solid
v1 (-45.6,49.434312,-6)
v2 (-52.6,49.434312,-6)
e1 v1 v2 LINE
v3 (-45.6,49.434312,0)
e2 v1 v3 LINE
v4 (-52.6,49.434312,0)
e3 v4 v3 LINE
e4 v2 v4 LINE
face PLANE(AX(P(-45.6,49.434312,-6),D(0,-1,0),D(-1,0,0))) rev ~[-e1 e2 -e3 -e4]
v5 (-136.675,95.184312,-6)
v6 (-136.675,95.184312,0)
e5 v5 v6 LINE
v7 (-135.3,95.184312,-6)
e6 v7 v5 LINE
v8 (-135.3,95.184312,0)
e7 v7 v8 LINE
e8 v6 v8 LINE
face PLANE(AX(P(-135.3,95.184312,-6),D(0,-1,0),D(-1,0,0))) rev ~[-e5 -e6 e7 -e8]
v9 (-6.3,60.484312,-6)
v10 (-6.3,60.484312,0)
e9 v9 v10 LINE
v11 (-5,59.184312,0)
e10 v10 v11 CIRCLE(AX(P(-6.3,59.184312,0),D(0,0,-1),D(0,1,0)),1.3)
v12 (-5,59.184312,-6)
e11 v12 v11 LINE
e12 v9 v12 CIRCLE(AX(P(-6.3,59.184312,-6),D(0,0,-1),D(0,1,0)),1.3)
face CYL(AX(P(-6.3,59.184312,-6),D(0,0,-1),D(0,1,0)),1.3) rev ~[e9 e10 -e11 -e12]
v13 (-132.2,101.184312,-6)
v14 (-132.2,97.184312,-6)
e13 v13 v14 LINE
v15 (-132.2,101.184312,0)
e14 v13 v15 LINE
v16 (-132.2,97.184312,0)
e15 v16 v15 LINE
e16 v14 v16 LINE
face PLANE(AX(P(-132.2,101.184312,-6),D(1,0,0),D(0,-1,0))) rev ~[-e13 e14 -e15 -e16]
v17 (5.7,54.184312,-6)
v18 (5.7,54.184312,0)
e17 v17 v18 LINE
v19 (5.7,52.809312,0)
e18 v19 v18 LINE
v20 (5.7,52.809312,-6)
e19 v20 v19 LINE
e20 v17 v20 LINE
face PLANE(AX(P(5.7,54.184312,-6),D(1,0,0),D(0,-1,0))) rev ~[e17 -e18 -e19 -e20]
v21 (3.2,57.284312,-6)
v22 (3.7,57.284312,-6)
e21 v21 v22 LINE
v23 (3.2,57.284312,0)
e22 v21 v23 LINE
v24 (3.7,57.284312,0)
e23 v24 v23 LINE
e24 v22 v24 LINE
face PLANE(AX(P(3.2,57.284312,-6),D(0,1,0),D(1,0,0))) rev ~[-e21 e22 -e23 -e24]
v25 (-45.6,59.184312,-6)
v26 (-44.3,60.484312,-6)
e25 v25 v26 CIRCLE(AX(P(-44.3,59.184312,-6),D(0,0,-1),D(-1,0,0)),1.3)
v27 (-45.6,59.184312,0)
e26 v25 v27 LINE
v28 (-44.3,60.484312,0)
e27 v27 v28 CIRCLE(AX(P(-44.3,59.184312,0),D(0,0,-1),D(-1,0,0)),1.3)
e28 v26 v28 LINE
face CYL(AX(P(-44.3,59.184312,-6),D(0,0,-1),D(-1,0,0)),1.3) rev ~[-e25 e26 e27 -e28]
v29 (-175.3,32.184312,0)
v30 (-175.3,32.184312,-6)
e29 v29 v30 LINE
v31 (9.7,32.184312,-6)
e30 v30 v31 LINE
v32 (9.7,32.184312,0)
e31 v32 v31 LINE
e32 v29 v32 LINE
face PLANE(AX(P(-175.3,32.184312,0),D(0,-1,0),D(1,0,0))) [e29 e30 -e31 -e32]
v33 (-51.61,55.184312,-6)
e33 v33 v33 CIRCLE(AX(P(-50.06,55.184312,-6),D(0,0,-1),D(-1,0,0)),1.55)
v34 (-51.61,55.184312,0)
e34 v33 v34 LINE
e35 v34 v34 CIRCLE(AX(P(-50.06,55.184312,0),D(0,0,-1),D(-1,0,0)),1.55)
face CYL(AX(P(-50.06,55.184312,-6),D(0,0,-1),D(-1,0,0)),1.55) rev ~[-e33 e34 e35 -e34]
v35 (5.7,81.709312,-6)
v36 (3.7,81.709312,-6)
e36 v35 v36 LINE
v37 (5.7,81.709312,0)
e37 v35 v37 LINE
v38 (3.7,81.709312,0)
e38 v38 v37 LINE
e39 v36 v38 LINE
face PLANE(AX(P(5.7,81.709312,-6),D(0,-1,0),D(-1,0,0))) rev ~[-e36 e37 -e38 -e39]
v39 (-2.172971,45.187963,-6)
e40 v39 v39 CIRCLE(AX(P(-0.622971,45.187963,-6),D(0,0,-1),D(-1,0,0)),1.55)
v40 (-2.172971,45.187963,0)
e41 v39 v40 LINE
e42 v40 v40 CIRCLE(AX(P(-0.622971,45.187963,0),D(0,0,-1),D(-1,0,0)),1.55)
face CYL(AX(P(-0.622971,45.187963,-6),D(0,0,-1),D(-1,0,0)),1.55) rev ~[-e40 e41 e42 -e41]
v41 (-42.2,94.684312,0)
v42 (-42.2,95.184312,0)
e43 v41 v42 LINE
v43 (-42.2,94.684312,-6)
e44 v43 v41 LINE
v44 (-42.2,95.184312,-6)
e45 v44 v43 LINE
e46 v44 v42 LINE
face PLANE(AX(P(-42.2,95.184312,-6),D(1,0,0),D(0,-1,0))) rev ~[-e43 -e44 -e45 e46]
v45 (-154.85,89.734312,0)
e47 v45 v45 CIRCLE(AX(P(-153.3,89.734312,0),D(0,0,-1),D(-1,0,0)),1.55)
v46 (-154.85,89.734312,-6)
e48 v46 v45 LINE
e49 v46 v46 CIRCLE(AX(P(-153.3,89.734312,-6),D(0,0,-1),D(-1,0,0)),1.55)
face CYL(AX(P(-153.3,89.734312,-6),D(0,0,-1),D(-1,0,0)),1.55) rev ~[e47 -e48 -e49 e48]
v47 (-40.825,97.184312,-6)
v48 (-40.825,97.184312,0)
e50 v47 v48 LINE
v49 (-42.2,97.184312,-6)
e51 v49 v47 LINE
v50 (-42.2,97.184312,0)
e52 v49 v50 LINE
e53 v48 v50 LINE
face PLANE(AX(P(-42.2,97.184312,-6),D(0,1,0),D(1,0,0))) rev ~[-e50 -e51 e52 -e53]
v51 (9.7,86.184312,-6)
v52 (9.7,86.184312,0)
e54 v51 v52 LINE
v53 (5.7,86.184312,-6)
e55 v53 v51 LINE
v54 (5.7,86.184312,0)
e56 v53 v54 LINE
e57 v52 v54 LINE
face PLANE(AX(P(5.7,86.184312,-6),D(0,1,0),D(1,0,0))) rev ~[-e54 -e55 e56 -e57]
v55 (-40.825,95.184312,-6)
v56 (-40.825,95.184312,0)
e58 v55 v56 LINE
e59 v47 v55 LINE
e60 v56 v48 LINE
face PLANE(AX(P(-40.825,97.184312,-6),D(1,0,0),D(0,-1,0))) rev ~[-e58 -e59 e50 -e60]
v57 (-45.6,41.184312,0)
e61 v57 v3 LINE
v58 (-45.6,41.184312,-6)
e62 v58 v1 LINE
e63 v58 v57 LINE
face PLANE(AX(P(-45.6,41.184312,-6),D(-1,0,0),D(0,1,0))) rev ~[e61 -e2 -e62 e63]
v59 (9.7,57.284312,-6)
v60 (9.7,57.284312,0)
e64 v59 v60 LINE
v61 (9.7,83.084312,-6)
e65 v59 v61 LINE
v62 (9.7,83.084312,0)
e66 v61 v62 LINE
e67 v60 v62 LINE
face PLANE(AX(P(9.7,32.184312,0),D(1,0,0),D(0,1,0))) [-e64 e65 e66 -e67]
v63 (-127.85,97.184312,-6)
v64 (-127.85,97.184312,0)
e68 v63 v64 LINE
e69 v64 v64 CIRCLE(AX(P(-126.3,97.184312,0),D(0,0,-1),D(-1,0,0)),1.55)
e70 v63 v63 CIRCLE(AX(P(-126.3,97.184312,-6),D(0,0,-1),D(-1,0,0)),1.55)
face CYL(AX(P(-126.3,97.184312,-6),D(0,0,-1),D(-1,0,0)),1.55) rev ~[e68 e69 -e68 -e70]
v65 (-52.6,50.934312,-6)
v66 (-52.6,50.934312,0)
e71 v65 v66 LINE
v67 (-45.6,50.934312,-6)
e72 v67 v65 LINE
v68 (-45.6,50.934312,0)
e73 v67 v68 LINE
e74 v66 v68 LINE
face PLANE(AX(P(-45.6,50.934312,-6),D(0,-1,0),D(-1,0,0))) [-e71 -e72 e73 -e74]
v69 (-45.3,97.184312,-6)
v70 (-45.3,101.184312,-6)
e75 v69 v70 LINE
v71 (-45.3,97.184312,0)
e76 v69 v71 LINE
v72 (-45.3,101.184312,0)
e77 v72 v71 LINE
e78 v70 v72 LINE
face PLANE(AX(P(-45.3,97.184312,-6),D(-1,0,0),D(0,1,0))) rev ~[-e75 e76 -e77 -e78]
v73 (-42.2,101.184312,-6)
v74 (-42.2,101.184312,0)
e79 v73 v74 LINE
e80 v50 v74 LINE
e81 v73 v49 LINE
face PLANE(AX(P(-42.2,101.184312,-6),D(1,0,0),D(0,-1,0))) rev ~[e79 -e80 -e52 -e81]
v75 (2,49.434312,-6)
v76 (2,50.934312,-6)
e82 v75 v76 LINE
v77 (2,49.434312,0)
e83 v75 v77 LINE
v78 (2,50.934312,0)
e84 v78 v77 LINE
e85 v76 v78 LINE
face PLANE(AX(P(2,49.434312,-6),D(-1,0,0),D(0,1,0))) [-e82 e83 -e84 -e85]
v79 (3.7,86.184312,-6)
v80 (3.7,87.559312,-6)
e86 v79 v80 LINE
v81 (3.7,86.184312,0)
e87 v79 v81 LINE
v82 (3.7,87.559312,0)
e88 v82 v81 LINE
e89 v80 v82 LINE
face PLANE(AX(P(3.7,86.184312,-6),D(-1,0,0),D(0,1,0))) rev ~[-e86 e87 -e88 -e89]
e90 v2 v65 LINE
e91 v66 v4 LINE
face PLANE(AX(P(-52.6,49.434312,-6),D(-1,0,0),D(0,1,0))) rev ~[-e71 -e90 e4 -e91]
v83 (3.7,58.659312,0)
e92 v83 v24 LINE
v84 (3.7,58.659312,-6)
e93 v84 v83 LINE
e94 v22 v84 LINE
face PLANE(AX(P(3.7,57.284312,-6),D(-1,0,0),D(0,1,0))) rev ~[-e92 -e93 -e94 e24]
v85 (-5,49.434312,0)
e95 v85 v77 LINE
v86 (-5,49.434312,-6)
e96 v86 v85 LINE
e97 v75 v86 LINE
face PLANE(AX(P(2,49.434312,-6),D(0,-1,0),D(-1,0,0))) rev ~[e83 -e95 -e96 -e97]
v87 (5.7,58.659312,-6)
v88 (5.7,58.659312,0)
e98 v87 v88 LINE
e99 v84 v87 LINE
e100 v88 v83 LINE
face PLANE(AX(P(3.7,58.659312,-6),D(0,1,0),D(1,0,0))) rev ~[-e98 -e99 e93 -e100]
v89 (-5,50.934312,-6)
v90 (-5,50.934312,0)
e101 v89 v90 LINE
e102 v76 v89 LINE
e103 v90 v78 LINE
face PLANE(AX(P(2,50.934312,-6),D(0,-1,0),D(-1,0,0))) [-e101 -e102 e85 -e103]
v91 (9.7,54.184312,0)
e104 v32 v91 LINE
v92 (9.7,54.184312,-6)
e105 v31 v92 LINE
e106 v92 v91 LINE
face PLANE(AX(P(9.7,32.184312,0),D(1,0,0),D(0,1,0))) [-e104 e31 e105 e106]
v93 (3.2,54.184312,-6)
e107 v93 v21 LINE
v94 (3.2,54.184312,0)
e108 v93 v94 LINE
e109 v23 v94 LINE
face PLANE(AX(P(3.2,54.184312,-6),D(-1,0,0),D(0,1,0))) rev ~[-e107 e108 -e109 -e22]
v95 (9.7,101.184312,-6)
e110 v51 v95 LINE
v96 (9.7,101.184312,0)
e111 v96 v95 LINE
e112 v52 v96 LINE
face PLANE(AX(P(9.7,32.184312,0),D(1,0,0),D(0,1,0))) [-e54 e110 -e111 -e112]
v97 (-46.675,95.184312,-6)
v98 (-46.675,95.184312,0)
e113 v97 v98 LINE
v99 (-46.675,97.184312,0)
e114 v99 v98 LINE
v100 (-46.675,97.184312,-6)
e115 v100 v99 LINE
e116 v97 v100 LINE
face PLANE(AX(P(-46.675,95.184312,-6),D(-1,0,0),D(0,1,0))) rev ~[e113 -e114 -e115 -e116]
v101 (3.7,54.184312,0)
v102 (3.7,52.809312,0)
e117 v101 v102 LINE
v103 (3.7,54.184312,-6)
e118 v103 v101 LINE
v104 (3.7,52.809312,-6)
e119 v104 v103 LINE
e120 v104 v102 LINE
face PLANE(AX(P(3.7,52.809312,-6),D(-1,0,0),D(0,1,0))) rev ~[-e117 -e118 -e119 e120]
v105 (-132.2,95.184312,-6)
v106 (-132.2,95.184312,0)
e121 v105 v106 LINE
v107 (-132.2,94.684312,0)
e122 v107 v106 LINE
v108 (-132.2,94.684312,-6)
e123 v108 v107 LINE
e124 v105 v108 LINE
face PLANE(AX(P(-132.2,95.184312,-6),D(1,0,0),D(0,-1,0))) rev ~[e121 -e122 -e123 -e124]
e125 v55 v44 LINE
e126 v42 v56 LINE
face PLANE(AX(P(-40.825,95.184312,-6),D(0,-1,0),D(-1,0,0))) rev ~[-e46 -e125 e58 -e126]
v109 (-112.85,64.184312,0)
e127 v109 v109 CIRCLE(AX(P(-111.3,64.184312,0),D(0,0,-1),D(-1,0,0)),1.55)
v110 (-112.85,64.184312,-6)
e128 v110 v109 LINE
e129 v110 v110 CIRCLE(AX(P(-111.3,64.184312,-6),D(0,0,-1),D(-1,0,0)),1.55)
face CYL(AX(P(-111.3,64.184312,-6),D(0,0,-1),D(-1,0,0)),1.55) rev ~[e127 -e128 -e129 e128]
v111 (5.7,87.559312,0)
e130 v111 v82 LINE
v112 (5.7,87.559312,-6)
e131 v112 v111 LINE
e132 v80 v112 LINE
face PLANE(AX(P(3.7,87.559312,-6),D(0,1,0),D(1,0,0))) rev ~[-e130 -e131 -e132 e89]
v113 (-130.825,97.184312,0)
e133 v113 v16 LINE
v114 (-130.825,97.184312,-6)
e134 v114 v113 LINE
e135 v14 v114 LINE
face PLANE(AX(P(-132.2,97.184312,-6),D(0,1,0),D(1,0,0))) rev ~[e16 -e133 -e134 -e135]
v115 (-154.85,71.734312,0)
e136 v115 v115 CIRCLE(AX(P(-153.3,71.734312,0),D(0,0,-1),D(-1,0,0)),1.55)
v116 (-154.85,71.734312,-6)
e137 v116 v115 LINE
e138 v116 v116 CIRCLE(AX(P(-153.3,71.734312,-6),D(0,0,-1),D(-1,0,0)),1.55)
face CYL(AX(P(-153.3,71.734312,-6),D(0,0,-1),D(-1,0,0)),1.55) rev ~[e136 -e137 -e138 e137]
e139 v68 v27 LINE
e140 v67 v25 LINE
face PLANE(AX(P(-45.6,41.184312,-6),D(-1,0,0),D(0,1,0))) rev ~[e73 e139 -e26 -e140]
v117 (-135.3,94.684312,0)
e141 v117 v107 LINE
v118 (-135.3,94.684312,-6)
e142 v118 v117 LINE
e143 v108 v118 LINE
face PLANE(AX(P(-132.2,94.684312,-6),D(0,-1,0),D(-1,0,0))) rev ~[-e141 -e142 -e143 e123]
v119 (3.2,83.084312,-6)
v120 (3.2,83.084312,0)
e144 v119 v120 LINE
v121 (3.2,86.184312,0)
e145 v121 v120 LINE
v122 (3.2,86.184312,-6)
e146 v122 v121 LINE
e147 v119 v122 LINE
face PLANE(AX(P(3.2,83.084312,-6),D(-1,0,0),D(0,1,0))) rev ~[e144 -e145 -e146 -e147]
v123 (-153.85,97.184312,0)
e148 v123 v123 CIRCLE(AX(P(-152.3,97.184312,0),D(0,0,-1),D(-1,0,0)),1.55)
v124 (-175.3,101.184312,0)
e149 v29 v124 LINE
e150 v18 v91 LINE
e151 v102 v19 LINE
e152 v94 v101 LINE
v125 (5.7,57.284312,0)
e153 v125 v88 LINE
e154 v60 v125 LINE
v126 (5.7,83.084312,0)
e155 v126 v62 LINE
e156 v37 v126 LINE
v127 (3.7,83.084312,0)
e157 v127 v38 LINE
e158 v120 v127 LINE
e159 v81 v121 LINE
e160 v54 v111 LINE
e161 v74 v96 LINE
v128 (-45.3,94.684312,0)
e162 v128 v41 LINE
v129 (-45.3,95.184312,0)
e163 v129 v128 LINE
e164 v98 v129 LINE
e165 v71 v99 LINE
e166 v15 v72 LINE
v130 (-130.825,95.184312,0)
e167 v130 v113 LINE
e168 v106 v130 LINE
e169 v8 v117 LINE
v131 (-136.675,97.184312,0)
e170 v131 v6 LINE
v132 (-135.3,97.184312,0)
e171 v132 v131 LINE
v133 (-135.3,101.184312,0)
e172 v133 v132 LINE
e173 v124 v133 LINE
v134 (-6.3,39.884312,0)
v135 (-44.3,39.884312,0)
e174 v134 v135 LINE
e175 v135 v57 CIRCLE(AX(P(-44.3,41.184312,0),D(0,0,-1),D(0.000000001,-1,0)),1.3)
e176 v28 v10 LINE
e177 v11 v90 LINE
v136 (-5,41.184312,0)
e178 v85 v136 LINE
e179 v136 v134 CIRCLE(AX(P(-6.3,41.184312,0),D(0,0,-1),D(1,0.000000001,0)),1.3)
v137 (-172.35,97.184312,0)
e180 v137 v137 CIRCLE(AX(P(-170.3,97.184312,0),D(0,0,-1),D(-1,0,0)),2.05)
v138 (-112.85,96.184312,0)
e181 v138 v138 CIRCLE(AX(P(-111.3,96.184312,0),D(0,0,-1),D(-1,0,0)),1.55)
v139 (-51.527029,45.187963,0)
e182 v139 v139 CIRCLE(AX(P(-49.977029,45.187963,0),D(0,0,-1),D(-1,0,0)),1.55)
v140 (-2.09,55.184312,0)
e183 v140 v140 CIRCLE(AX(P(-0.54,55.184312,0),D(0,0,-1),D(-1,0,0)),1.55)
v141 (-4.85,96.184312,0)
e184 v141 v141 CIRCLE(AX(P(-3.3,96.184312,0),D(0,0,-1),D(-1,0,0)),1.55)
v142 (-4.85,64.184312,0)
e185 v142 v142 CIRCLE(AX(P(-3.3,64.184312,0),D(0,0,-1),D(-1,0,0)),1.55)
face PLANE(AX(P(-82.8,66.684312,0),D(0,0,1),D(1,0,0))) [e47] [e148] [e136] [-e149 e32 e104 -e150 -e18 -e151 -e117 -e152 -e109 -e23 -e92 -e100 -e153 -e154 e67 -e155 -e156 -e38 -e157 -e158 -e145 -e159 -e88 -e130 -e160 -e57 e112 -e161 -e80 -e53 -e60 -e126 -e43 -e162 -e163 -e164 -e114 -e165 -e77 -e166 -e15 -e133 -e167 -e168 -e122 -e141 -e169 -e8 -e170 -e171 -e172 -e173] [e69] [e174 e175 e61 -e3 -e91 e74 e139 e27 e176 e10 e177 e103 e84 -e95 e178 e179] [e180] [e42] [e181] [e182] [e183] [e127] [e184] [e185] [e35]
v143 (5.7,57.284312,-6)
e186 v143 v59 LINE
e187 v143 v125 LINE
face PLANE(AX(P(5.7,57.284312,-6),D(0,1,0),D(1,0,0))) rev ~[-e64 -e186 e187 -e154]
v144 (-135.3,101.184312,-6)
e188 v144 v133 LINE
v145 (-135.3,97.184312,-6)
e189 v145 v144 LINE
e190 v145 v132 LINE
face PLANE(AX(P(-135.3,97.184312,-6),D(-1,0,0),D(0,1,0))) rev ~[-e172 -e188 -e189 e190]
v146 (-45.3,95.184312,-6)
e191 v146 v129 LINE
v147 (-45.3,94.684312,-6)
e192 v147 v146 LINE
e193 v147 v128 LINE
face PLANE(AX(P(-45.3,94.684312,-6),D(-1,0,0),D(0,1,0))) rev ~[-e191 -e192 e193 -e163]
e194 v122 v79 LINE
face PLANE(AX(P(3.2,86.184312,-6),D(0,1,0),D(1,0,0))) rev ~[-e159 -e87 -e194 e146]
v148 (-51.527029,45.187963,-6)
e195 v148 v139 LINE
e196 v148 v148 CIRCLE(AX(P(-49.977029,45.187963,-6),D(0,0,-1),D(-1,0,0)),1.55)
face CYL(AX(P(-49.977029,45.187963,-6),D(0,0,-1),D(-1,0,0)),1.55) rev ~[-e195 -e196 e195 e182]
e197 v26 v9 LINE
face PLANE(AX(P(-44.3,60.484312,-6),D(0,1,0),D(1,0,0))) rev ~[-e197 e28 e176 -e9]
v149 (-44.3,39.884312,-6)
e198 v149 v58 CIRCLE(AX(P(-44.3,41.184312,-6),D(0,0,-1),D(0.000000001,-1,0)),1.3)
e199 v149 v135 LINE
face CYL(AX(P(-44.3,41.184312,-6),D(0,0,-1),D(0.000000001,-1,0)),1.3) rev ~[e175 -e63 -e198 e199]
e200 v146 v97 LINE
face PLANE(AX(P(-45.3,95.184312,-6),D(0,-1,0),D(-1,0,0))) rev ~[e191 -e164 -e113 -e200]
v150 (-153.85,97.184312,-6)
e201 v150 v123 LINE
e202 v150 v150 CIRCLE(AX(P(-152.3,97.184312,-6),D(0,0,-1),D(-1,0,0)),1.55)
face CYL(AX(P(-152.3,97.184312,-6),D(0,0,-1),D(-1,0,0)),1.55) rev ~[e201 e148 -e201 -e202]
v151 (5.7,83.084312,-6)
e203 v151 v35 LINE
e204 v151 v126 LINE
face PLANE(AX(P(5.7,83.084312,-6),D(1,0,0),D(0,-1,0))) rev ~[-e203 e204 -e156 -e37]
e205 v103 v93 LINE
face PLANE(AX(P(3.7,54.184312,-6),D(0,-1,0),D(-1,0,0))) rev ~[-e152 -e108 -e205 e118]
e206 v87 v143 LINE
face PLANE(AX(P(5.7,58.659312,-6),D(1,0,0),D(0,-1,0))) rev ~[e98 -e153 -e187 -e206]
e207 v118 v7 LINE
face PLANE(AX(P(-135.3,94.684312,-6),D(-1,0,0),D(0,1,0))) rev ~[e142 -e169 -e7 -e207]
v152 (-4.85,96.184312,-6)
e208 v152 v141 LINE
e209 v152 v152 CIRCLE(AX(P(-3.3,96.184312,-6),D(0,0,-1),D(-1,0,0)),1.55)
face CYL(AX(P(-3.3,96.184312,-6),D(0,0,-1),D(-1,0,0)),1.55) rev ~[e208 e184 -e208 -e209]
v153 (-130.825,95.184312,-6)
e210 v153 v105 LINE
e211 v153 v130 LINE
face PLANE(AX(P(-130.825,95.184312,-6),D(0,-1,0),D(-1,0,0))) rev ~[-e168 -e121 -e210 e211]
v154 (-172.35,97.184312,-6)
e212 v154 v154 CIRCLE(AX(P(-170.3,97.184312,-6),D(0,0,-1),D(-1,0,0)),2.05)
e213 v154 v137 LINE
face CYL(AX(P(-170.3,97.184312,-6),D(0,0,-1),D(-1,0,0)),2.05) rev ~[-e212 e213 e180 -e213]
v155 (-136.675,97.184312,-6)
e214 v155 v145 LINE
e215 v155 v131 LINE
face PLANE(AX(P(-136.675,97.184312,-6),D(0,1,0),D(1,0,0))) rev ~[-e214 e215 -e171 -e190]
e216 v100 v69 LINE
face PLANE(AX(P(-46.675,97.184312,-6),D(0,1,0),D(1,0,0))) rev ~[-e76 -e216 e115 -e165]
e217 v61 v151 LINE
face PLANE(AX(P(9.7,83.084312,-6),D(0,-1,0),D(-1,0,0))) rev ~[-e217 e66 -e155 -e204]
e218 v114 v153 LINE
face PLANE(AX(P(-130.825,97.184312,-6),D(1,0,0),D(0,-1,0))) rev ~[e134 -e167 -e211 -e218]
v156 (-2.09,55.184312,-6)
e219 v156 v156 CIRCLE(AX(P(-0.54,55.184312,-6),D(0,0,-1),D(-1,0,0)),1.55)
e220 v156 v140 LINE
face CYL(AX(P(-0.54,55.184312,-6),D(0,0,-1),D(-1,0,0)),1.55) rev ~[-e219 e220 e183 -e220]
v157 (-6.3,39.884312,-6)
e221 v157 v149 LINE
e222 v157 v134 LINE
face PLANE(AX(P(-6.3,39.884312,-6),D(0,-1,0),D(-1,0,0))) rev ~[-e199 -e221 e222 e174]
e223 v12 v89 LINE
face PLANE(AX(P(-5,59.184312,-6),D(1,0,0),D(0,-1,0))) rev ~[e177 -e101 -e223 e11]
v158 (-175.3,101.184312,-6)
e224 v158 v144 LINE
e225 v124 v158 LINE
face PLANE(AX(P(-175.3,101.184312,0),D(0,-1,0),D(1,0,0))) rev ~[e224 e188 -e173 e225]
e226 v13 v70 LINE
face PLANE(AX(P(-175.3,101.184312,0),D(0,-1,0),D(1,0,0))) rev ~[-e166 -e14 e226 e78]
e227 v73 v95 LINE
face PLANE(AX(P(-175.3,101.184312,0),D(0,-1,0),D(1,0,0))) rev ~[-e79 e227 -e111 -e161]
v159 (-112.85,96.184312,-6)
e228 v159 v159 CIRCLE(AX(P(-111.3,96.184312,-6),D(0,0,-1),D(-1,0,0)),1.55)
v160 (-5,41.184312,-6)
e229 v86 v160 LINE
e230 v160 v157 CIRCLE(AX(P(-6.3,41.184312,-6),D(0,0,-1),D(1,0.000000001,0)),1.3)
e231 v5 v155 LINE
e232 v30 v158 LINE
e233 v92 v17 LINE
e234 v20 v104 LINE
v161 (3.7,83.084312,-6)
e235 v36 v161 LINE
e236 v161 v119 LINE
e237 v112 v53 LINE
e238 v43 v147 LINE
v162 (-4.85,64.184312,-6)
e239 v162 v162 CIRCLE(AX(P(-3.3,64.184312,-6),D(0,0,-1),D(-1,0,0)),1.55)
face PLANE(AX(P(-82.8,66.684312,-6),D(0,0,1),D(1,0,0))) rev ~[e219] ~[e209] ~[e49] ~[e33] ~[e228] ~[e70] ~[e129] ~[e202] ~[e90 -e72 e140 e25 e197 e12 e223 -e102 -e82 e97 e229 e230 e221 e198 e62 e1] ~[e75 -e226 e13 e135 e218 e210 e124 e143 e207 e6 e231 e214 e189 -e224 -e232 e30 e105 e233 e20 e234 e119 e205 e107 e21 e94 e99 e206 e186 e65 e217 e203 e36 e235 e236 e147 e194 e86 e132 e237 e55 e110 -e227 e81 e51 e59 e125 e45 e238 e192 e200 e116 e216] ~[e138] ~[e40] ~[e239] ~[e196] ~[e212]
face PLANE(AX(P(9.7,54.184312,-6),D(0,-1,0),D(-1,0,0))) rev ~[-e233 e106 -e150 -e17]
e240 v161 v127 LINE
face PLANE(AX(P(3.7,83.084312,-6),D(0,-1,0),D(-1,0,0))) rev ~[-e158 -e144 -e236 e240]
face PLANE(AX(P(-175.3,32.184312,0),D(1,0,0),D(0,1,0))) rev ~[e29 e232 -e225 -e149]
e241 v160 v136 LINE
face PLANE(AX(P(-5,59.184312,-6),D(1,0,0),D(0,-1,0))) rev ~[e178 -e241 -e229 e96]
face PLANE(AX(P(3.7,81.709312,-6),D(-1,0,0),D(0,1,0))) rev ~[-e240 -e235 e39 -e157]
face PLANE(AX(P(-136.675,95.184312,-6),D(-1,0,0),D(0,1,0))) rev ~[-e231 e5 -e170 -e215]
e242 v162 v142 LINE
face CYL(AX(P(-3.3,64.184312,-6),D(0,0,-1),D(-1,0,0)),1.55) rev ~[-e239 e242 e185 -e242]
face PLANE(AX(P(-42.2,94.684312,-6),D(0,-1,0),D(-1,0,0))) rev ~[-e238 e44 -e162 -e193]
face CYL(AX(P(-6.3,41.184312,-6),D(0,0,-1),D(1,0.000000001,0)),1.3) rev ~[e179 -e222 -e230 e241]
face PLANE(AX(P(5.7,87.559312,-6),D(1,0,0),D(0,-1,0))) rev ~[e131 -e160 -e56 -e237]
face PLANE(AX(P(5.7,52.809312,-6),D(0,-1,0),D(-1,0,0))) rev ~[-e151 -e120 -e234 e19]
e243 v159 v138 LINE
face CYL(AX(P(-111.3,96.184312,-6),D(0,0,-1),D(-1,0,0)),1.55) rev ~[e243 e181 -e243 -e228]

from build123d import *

# Parameters (mm, degrees)
SZKIC1_W                    = 185
SZKIC1_H                    = 69
DODANIE_WYCI_GNI_CIE1_DEPTH = 6
WYTNIJ_WYCI_GNI_CIE2_DEPTH  = 203.495320778
SZYK_LINIOWY1_COUNT         = 2
SZYK_LINIOWY1_PITCH         = 90
WYTNIJ_WYCI_GNI_CIE3_DEPTH  = 203.495320778
SZYK_LINIOWY2_COUNT         = 2
SZYK_LINIOWY2_PITCH         = 28.9
SZKIC8_R                    = 1.55
WYTNIJ_WYCI_GNI_CIE4_DEPTH  = 203.495320778
SZKIC11_R                   = 2.05
SZKIC11_R_2                 = 1.55
WYTNIJ_WYCI_GNI_CIE7_DEPTH  = 10
SZKIC13_R                   = 1.55
WYTNIJ_WYCI_GNI_CIE8_DEPTH  = 6
SZKIC14_W                   = 7
SZKIC14_H                   = 1.5
WYTNIJ_WYCI_GNI_CIE9_DEPTH  = 10
SZKIC16_R                   = 1.55
WYTNIJ_WYCI_GNI_CIE10_DEPTH = 6


with BuildPart() as part:
    # Szkic1 → Dodanie-wyciągnięcie1 (new body)
    with BuildSketch(Plane.XY):
        with Locations((-82.8, 66.684311715)):
            Rectangle(SZKIC1_W, SZKIC1_H)
    extrude(amount=-DODANIE_WYCI_GNI_CIE1_DEPTH)

    # Szkic6 → Wytnij-wyciągnięcie2 (cut, through all)
    with BuildSketch(Plane(origin=(0, 0, -6), x_dir=(-1, 0, 0), z_dir=(0, 0, -1))):
        Polygon((135.3, 101.184311715), (132.2, 101.184311715), (132.2, 97.184311715), (130.825, 97.184311715), (130.825, 95.184311715), (132.2, 95.184311715), (132.2, 94.684311715), (135.3, 94.684311715), (135.3, 95.184311715), (136.675, 95.184311715), (136.675, 97.184311715), (135.3, 97.184311715), align=None)
    wytnij_wyci_gni_cie2 = extrude(amount=-WYTNIJ_WYCI_GNI_CIE2_DEPTH, mode=Mode.SUBTRACT)

    # Szyk liniowy1: Wytnij-wyciągnięcie2 ×2
    with Locations(*[(i * SZYK_LINIOWY1_PITCH, 0, 0) for i in range(1, SZYK_LINIOWY1_COUNT)]):
        add(wytnij_wyci_gni_cie2, mode=Mode.SUBTRACT)

    # Szkic7 → Wytnij-wyciągnięcie3 (cut, through all)
    with BuildSketch(Plane(origin=(0, 0, -6), x_dir=(-1, 0, 0), z_dir=(0, 0, -1))):
        Polygon((-9.7, 86.184311715), (-9.7, 83.084311715), (-5.7, 83.084311715), (-5.7, 81.709311715), (-3.7, 81.709311715), (-3.7, 83.084311715), (-3.2, 83.084311715), (-3.2, 86.184311715), (-3.7, 86.184311715), (-3.7, 87.559311715), (-5.7, 87.559311715), (-5.7, 86.184311715), align=None)
    wytnij_wyci_gni_cie3 = extrude(amount=-WYTNIJ_WYCI_GNI_CIE3_DEPTH, mode=Mode.SUBTRACT)

    # Szyk liniowy2: Wytnij-wyciągnięcie3 ×2
    with Locations(*[(0, -i * SZYK_LINIOWY2_PITCH, 0) for i in range(1, SZYK_LINIOWY2_COUNT)]):
        add(wytnij_wyci_gni_cie3, mode=Mode.SUBTRACT)

    # Szkic8 → Wytnij-wyciągnięcie4 (cut, through all)
    with BuildSketch(Plane(origin=(0, 0, -6), x_dir=(-1, 0, 0), z_dir=(0, 0, -1))):
        with Locations((111.3, 96.184311715)):
            Circle(SZKIC8_R)
        with Locations((111.3, 64.184311715)):
            Circle(SZKIC8_R)
        with Locations((3.3, 64.184311715)):
            Circle(SZKIC8_R)
        with Locations((3.3, 96.184311715)):
            Circle(SZKIC8_R)
    extrude(amount=-WYTNIJ_WYCI_GNI_CIE4_DEPTH, mode=Mode.SUBTRACT)

    # Szkic11 → Wytnij-wyciągnięcie7 (cut)
    with BuildSketch(Plane(origin=(0, 0, -6), x_dir=(-1, 0, 0), z_dir=(0, 0, -1))):
        with Locations((170.3, 97.184311715)):
            Circle(SZKIC11_R)
        with Locations((152.3, 97.184311715)):
            Circle(SZKIC11_R_2)
        with Locations((126.3, 97.184311715)):
            Circle(SZKIC11_R_2)
    extrude(amount=-WYTNIJ_WYCI_GNI_CIE7_DEPTH, mode=Mode.SUBTRACT)

    # Szkic13 → Wytnij-wyciągnięcie8 (cut)
    with BuildSketch(Plane(origin=(0, 0, -6), x_dir=(-1, 0, 0), z_dir=(0, 0, -1))):
        with Locations((49.977029411, 45.18796276)):
            Circle(SZKIC13_R)
        with Locations((50.06, 55.184311715)):
            Circle(SZKIC13_R)
        with Locations((0.54, 55.184311715)):
            Circle(SZKIC13_R)
        with Locations((0.622970589, 45.18796276)):
            Circle(SZKIC13_R)
        with BuildLine():
            Line((6.3, 39.884311715), (44.3, 39.884311715))
            ThreePointArc((44.3, 39.884311715), (45.219238816, 40.265072899), (45.6, 41.184311715))
            Line((45.6, 41.184311715), (45.6, 59.184311715))
            ThreePointArc((45.6, 59.184311715), (45.219238816, 60.10355053), (44.3, 60.484311715))
            Line((44.3, 60.484311715), (6.3, 60.484311715))
            ThreePointArc((6.3, 60.484311715), (5.380761184, 60.10355053), (5, 59.184311715))
            Line((5, 59.184311715), (5, 41.184311715))
            ThreePointArc((5, 41.184311715), (5.380761184, 40.265072899), (6.3, 39.884311715))
        make_face()
    extrude(amount=-WYTNIJ_WYCI_GNI_CIE8_DEPTH, mode=Mode.SUBTRACT)

    # Szkic14 → Wytnij-wyciągnięcie9 (cut)
    with BuildSketch(Plane(origin=(0, 0, -6), x_dir=(-1, 0, 0), z_dir=(0, 0, -1))):
        with Locations((49.1, 50.184311715)):
            Rectangle(SZKIC14_W, SZKIC14_H)
        with Locations((1.5, 50.184311715)):
            Rectangle(SZKIC14_W, SZKIC14_H)
    extrude(amount=-WYTNIJ_WYCI_GNI_CIE9_DEPTH, mode=Mode.SUBTRACT)

    # Szkic16 → Wytnij-wyciągnięcie10 (cut)
    with BuildSketch(Plane(origin=(0, 0, -6), x_dir=(-1, 0, 0), z_dir=(0, 0, -1))):
        with Locations((153.3, 89.734311715)):
            Circle(SZKIC16_R)
        with Locations((153.3, 71.734311715)):
            Circle(SZKIC16_R)
    extrude(amount=-WYTNIJ_WYCI_GNI_CIE10_DEPTH, mode=Mode.SUBTRACT)


solid = part.part
